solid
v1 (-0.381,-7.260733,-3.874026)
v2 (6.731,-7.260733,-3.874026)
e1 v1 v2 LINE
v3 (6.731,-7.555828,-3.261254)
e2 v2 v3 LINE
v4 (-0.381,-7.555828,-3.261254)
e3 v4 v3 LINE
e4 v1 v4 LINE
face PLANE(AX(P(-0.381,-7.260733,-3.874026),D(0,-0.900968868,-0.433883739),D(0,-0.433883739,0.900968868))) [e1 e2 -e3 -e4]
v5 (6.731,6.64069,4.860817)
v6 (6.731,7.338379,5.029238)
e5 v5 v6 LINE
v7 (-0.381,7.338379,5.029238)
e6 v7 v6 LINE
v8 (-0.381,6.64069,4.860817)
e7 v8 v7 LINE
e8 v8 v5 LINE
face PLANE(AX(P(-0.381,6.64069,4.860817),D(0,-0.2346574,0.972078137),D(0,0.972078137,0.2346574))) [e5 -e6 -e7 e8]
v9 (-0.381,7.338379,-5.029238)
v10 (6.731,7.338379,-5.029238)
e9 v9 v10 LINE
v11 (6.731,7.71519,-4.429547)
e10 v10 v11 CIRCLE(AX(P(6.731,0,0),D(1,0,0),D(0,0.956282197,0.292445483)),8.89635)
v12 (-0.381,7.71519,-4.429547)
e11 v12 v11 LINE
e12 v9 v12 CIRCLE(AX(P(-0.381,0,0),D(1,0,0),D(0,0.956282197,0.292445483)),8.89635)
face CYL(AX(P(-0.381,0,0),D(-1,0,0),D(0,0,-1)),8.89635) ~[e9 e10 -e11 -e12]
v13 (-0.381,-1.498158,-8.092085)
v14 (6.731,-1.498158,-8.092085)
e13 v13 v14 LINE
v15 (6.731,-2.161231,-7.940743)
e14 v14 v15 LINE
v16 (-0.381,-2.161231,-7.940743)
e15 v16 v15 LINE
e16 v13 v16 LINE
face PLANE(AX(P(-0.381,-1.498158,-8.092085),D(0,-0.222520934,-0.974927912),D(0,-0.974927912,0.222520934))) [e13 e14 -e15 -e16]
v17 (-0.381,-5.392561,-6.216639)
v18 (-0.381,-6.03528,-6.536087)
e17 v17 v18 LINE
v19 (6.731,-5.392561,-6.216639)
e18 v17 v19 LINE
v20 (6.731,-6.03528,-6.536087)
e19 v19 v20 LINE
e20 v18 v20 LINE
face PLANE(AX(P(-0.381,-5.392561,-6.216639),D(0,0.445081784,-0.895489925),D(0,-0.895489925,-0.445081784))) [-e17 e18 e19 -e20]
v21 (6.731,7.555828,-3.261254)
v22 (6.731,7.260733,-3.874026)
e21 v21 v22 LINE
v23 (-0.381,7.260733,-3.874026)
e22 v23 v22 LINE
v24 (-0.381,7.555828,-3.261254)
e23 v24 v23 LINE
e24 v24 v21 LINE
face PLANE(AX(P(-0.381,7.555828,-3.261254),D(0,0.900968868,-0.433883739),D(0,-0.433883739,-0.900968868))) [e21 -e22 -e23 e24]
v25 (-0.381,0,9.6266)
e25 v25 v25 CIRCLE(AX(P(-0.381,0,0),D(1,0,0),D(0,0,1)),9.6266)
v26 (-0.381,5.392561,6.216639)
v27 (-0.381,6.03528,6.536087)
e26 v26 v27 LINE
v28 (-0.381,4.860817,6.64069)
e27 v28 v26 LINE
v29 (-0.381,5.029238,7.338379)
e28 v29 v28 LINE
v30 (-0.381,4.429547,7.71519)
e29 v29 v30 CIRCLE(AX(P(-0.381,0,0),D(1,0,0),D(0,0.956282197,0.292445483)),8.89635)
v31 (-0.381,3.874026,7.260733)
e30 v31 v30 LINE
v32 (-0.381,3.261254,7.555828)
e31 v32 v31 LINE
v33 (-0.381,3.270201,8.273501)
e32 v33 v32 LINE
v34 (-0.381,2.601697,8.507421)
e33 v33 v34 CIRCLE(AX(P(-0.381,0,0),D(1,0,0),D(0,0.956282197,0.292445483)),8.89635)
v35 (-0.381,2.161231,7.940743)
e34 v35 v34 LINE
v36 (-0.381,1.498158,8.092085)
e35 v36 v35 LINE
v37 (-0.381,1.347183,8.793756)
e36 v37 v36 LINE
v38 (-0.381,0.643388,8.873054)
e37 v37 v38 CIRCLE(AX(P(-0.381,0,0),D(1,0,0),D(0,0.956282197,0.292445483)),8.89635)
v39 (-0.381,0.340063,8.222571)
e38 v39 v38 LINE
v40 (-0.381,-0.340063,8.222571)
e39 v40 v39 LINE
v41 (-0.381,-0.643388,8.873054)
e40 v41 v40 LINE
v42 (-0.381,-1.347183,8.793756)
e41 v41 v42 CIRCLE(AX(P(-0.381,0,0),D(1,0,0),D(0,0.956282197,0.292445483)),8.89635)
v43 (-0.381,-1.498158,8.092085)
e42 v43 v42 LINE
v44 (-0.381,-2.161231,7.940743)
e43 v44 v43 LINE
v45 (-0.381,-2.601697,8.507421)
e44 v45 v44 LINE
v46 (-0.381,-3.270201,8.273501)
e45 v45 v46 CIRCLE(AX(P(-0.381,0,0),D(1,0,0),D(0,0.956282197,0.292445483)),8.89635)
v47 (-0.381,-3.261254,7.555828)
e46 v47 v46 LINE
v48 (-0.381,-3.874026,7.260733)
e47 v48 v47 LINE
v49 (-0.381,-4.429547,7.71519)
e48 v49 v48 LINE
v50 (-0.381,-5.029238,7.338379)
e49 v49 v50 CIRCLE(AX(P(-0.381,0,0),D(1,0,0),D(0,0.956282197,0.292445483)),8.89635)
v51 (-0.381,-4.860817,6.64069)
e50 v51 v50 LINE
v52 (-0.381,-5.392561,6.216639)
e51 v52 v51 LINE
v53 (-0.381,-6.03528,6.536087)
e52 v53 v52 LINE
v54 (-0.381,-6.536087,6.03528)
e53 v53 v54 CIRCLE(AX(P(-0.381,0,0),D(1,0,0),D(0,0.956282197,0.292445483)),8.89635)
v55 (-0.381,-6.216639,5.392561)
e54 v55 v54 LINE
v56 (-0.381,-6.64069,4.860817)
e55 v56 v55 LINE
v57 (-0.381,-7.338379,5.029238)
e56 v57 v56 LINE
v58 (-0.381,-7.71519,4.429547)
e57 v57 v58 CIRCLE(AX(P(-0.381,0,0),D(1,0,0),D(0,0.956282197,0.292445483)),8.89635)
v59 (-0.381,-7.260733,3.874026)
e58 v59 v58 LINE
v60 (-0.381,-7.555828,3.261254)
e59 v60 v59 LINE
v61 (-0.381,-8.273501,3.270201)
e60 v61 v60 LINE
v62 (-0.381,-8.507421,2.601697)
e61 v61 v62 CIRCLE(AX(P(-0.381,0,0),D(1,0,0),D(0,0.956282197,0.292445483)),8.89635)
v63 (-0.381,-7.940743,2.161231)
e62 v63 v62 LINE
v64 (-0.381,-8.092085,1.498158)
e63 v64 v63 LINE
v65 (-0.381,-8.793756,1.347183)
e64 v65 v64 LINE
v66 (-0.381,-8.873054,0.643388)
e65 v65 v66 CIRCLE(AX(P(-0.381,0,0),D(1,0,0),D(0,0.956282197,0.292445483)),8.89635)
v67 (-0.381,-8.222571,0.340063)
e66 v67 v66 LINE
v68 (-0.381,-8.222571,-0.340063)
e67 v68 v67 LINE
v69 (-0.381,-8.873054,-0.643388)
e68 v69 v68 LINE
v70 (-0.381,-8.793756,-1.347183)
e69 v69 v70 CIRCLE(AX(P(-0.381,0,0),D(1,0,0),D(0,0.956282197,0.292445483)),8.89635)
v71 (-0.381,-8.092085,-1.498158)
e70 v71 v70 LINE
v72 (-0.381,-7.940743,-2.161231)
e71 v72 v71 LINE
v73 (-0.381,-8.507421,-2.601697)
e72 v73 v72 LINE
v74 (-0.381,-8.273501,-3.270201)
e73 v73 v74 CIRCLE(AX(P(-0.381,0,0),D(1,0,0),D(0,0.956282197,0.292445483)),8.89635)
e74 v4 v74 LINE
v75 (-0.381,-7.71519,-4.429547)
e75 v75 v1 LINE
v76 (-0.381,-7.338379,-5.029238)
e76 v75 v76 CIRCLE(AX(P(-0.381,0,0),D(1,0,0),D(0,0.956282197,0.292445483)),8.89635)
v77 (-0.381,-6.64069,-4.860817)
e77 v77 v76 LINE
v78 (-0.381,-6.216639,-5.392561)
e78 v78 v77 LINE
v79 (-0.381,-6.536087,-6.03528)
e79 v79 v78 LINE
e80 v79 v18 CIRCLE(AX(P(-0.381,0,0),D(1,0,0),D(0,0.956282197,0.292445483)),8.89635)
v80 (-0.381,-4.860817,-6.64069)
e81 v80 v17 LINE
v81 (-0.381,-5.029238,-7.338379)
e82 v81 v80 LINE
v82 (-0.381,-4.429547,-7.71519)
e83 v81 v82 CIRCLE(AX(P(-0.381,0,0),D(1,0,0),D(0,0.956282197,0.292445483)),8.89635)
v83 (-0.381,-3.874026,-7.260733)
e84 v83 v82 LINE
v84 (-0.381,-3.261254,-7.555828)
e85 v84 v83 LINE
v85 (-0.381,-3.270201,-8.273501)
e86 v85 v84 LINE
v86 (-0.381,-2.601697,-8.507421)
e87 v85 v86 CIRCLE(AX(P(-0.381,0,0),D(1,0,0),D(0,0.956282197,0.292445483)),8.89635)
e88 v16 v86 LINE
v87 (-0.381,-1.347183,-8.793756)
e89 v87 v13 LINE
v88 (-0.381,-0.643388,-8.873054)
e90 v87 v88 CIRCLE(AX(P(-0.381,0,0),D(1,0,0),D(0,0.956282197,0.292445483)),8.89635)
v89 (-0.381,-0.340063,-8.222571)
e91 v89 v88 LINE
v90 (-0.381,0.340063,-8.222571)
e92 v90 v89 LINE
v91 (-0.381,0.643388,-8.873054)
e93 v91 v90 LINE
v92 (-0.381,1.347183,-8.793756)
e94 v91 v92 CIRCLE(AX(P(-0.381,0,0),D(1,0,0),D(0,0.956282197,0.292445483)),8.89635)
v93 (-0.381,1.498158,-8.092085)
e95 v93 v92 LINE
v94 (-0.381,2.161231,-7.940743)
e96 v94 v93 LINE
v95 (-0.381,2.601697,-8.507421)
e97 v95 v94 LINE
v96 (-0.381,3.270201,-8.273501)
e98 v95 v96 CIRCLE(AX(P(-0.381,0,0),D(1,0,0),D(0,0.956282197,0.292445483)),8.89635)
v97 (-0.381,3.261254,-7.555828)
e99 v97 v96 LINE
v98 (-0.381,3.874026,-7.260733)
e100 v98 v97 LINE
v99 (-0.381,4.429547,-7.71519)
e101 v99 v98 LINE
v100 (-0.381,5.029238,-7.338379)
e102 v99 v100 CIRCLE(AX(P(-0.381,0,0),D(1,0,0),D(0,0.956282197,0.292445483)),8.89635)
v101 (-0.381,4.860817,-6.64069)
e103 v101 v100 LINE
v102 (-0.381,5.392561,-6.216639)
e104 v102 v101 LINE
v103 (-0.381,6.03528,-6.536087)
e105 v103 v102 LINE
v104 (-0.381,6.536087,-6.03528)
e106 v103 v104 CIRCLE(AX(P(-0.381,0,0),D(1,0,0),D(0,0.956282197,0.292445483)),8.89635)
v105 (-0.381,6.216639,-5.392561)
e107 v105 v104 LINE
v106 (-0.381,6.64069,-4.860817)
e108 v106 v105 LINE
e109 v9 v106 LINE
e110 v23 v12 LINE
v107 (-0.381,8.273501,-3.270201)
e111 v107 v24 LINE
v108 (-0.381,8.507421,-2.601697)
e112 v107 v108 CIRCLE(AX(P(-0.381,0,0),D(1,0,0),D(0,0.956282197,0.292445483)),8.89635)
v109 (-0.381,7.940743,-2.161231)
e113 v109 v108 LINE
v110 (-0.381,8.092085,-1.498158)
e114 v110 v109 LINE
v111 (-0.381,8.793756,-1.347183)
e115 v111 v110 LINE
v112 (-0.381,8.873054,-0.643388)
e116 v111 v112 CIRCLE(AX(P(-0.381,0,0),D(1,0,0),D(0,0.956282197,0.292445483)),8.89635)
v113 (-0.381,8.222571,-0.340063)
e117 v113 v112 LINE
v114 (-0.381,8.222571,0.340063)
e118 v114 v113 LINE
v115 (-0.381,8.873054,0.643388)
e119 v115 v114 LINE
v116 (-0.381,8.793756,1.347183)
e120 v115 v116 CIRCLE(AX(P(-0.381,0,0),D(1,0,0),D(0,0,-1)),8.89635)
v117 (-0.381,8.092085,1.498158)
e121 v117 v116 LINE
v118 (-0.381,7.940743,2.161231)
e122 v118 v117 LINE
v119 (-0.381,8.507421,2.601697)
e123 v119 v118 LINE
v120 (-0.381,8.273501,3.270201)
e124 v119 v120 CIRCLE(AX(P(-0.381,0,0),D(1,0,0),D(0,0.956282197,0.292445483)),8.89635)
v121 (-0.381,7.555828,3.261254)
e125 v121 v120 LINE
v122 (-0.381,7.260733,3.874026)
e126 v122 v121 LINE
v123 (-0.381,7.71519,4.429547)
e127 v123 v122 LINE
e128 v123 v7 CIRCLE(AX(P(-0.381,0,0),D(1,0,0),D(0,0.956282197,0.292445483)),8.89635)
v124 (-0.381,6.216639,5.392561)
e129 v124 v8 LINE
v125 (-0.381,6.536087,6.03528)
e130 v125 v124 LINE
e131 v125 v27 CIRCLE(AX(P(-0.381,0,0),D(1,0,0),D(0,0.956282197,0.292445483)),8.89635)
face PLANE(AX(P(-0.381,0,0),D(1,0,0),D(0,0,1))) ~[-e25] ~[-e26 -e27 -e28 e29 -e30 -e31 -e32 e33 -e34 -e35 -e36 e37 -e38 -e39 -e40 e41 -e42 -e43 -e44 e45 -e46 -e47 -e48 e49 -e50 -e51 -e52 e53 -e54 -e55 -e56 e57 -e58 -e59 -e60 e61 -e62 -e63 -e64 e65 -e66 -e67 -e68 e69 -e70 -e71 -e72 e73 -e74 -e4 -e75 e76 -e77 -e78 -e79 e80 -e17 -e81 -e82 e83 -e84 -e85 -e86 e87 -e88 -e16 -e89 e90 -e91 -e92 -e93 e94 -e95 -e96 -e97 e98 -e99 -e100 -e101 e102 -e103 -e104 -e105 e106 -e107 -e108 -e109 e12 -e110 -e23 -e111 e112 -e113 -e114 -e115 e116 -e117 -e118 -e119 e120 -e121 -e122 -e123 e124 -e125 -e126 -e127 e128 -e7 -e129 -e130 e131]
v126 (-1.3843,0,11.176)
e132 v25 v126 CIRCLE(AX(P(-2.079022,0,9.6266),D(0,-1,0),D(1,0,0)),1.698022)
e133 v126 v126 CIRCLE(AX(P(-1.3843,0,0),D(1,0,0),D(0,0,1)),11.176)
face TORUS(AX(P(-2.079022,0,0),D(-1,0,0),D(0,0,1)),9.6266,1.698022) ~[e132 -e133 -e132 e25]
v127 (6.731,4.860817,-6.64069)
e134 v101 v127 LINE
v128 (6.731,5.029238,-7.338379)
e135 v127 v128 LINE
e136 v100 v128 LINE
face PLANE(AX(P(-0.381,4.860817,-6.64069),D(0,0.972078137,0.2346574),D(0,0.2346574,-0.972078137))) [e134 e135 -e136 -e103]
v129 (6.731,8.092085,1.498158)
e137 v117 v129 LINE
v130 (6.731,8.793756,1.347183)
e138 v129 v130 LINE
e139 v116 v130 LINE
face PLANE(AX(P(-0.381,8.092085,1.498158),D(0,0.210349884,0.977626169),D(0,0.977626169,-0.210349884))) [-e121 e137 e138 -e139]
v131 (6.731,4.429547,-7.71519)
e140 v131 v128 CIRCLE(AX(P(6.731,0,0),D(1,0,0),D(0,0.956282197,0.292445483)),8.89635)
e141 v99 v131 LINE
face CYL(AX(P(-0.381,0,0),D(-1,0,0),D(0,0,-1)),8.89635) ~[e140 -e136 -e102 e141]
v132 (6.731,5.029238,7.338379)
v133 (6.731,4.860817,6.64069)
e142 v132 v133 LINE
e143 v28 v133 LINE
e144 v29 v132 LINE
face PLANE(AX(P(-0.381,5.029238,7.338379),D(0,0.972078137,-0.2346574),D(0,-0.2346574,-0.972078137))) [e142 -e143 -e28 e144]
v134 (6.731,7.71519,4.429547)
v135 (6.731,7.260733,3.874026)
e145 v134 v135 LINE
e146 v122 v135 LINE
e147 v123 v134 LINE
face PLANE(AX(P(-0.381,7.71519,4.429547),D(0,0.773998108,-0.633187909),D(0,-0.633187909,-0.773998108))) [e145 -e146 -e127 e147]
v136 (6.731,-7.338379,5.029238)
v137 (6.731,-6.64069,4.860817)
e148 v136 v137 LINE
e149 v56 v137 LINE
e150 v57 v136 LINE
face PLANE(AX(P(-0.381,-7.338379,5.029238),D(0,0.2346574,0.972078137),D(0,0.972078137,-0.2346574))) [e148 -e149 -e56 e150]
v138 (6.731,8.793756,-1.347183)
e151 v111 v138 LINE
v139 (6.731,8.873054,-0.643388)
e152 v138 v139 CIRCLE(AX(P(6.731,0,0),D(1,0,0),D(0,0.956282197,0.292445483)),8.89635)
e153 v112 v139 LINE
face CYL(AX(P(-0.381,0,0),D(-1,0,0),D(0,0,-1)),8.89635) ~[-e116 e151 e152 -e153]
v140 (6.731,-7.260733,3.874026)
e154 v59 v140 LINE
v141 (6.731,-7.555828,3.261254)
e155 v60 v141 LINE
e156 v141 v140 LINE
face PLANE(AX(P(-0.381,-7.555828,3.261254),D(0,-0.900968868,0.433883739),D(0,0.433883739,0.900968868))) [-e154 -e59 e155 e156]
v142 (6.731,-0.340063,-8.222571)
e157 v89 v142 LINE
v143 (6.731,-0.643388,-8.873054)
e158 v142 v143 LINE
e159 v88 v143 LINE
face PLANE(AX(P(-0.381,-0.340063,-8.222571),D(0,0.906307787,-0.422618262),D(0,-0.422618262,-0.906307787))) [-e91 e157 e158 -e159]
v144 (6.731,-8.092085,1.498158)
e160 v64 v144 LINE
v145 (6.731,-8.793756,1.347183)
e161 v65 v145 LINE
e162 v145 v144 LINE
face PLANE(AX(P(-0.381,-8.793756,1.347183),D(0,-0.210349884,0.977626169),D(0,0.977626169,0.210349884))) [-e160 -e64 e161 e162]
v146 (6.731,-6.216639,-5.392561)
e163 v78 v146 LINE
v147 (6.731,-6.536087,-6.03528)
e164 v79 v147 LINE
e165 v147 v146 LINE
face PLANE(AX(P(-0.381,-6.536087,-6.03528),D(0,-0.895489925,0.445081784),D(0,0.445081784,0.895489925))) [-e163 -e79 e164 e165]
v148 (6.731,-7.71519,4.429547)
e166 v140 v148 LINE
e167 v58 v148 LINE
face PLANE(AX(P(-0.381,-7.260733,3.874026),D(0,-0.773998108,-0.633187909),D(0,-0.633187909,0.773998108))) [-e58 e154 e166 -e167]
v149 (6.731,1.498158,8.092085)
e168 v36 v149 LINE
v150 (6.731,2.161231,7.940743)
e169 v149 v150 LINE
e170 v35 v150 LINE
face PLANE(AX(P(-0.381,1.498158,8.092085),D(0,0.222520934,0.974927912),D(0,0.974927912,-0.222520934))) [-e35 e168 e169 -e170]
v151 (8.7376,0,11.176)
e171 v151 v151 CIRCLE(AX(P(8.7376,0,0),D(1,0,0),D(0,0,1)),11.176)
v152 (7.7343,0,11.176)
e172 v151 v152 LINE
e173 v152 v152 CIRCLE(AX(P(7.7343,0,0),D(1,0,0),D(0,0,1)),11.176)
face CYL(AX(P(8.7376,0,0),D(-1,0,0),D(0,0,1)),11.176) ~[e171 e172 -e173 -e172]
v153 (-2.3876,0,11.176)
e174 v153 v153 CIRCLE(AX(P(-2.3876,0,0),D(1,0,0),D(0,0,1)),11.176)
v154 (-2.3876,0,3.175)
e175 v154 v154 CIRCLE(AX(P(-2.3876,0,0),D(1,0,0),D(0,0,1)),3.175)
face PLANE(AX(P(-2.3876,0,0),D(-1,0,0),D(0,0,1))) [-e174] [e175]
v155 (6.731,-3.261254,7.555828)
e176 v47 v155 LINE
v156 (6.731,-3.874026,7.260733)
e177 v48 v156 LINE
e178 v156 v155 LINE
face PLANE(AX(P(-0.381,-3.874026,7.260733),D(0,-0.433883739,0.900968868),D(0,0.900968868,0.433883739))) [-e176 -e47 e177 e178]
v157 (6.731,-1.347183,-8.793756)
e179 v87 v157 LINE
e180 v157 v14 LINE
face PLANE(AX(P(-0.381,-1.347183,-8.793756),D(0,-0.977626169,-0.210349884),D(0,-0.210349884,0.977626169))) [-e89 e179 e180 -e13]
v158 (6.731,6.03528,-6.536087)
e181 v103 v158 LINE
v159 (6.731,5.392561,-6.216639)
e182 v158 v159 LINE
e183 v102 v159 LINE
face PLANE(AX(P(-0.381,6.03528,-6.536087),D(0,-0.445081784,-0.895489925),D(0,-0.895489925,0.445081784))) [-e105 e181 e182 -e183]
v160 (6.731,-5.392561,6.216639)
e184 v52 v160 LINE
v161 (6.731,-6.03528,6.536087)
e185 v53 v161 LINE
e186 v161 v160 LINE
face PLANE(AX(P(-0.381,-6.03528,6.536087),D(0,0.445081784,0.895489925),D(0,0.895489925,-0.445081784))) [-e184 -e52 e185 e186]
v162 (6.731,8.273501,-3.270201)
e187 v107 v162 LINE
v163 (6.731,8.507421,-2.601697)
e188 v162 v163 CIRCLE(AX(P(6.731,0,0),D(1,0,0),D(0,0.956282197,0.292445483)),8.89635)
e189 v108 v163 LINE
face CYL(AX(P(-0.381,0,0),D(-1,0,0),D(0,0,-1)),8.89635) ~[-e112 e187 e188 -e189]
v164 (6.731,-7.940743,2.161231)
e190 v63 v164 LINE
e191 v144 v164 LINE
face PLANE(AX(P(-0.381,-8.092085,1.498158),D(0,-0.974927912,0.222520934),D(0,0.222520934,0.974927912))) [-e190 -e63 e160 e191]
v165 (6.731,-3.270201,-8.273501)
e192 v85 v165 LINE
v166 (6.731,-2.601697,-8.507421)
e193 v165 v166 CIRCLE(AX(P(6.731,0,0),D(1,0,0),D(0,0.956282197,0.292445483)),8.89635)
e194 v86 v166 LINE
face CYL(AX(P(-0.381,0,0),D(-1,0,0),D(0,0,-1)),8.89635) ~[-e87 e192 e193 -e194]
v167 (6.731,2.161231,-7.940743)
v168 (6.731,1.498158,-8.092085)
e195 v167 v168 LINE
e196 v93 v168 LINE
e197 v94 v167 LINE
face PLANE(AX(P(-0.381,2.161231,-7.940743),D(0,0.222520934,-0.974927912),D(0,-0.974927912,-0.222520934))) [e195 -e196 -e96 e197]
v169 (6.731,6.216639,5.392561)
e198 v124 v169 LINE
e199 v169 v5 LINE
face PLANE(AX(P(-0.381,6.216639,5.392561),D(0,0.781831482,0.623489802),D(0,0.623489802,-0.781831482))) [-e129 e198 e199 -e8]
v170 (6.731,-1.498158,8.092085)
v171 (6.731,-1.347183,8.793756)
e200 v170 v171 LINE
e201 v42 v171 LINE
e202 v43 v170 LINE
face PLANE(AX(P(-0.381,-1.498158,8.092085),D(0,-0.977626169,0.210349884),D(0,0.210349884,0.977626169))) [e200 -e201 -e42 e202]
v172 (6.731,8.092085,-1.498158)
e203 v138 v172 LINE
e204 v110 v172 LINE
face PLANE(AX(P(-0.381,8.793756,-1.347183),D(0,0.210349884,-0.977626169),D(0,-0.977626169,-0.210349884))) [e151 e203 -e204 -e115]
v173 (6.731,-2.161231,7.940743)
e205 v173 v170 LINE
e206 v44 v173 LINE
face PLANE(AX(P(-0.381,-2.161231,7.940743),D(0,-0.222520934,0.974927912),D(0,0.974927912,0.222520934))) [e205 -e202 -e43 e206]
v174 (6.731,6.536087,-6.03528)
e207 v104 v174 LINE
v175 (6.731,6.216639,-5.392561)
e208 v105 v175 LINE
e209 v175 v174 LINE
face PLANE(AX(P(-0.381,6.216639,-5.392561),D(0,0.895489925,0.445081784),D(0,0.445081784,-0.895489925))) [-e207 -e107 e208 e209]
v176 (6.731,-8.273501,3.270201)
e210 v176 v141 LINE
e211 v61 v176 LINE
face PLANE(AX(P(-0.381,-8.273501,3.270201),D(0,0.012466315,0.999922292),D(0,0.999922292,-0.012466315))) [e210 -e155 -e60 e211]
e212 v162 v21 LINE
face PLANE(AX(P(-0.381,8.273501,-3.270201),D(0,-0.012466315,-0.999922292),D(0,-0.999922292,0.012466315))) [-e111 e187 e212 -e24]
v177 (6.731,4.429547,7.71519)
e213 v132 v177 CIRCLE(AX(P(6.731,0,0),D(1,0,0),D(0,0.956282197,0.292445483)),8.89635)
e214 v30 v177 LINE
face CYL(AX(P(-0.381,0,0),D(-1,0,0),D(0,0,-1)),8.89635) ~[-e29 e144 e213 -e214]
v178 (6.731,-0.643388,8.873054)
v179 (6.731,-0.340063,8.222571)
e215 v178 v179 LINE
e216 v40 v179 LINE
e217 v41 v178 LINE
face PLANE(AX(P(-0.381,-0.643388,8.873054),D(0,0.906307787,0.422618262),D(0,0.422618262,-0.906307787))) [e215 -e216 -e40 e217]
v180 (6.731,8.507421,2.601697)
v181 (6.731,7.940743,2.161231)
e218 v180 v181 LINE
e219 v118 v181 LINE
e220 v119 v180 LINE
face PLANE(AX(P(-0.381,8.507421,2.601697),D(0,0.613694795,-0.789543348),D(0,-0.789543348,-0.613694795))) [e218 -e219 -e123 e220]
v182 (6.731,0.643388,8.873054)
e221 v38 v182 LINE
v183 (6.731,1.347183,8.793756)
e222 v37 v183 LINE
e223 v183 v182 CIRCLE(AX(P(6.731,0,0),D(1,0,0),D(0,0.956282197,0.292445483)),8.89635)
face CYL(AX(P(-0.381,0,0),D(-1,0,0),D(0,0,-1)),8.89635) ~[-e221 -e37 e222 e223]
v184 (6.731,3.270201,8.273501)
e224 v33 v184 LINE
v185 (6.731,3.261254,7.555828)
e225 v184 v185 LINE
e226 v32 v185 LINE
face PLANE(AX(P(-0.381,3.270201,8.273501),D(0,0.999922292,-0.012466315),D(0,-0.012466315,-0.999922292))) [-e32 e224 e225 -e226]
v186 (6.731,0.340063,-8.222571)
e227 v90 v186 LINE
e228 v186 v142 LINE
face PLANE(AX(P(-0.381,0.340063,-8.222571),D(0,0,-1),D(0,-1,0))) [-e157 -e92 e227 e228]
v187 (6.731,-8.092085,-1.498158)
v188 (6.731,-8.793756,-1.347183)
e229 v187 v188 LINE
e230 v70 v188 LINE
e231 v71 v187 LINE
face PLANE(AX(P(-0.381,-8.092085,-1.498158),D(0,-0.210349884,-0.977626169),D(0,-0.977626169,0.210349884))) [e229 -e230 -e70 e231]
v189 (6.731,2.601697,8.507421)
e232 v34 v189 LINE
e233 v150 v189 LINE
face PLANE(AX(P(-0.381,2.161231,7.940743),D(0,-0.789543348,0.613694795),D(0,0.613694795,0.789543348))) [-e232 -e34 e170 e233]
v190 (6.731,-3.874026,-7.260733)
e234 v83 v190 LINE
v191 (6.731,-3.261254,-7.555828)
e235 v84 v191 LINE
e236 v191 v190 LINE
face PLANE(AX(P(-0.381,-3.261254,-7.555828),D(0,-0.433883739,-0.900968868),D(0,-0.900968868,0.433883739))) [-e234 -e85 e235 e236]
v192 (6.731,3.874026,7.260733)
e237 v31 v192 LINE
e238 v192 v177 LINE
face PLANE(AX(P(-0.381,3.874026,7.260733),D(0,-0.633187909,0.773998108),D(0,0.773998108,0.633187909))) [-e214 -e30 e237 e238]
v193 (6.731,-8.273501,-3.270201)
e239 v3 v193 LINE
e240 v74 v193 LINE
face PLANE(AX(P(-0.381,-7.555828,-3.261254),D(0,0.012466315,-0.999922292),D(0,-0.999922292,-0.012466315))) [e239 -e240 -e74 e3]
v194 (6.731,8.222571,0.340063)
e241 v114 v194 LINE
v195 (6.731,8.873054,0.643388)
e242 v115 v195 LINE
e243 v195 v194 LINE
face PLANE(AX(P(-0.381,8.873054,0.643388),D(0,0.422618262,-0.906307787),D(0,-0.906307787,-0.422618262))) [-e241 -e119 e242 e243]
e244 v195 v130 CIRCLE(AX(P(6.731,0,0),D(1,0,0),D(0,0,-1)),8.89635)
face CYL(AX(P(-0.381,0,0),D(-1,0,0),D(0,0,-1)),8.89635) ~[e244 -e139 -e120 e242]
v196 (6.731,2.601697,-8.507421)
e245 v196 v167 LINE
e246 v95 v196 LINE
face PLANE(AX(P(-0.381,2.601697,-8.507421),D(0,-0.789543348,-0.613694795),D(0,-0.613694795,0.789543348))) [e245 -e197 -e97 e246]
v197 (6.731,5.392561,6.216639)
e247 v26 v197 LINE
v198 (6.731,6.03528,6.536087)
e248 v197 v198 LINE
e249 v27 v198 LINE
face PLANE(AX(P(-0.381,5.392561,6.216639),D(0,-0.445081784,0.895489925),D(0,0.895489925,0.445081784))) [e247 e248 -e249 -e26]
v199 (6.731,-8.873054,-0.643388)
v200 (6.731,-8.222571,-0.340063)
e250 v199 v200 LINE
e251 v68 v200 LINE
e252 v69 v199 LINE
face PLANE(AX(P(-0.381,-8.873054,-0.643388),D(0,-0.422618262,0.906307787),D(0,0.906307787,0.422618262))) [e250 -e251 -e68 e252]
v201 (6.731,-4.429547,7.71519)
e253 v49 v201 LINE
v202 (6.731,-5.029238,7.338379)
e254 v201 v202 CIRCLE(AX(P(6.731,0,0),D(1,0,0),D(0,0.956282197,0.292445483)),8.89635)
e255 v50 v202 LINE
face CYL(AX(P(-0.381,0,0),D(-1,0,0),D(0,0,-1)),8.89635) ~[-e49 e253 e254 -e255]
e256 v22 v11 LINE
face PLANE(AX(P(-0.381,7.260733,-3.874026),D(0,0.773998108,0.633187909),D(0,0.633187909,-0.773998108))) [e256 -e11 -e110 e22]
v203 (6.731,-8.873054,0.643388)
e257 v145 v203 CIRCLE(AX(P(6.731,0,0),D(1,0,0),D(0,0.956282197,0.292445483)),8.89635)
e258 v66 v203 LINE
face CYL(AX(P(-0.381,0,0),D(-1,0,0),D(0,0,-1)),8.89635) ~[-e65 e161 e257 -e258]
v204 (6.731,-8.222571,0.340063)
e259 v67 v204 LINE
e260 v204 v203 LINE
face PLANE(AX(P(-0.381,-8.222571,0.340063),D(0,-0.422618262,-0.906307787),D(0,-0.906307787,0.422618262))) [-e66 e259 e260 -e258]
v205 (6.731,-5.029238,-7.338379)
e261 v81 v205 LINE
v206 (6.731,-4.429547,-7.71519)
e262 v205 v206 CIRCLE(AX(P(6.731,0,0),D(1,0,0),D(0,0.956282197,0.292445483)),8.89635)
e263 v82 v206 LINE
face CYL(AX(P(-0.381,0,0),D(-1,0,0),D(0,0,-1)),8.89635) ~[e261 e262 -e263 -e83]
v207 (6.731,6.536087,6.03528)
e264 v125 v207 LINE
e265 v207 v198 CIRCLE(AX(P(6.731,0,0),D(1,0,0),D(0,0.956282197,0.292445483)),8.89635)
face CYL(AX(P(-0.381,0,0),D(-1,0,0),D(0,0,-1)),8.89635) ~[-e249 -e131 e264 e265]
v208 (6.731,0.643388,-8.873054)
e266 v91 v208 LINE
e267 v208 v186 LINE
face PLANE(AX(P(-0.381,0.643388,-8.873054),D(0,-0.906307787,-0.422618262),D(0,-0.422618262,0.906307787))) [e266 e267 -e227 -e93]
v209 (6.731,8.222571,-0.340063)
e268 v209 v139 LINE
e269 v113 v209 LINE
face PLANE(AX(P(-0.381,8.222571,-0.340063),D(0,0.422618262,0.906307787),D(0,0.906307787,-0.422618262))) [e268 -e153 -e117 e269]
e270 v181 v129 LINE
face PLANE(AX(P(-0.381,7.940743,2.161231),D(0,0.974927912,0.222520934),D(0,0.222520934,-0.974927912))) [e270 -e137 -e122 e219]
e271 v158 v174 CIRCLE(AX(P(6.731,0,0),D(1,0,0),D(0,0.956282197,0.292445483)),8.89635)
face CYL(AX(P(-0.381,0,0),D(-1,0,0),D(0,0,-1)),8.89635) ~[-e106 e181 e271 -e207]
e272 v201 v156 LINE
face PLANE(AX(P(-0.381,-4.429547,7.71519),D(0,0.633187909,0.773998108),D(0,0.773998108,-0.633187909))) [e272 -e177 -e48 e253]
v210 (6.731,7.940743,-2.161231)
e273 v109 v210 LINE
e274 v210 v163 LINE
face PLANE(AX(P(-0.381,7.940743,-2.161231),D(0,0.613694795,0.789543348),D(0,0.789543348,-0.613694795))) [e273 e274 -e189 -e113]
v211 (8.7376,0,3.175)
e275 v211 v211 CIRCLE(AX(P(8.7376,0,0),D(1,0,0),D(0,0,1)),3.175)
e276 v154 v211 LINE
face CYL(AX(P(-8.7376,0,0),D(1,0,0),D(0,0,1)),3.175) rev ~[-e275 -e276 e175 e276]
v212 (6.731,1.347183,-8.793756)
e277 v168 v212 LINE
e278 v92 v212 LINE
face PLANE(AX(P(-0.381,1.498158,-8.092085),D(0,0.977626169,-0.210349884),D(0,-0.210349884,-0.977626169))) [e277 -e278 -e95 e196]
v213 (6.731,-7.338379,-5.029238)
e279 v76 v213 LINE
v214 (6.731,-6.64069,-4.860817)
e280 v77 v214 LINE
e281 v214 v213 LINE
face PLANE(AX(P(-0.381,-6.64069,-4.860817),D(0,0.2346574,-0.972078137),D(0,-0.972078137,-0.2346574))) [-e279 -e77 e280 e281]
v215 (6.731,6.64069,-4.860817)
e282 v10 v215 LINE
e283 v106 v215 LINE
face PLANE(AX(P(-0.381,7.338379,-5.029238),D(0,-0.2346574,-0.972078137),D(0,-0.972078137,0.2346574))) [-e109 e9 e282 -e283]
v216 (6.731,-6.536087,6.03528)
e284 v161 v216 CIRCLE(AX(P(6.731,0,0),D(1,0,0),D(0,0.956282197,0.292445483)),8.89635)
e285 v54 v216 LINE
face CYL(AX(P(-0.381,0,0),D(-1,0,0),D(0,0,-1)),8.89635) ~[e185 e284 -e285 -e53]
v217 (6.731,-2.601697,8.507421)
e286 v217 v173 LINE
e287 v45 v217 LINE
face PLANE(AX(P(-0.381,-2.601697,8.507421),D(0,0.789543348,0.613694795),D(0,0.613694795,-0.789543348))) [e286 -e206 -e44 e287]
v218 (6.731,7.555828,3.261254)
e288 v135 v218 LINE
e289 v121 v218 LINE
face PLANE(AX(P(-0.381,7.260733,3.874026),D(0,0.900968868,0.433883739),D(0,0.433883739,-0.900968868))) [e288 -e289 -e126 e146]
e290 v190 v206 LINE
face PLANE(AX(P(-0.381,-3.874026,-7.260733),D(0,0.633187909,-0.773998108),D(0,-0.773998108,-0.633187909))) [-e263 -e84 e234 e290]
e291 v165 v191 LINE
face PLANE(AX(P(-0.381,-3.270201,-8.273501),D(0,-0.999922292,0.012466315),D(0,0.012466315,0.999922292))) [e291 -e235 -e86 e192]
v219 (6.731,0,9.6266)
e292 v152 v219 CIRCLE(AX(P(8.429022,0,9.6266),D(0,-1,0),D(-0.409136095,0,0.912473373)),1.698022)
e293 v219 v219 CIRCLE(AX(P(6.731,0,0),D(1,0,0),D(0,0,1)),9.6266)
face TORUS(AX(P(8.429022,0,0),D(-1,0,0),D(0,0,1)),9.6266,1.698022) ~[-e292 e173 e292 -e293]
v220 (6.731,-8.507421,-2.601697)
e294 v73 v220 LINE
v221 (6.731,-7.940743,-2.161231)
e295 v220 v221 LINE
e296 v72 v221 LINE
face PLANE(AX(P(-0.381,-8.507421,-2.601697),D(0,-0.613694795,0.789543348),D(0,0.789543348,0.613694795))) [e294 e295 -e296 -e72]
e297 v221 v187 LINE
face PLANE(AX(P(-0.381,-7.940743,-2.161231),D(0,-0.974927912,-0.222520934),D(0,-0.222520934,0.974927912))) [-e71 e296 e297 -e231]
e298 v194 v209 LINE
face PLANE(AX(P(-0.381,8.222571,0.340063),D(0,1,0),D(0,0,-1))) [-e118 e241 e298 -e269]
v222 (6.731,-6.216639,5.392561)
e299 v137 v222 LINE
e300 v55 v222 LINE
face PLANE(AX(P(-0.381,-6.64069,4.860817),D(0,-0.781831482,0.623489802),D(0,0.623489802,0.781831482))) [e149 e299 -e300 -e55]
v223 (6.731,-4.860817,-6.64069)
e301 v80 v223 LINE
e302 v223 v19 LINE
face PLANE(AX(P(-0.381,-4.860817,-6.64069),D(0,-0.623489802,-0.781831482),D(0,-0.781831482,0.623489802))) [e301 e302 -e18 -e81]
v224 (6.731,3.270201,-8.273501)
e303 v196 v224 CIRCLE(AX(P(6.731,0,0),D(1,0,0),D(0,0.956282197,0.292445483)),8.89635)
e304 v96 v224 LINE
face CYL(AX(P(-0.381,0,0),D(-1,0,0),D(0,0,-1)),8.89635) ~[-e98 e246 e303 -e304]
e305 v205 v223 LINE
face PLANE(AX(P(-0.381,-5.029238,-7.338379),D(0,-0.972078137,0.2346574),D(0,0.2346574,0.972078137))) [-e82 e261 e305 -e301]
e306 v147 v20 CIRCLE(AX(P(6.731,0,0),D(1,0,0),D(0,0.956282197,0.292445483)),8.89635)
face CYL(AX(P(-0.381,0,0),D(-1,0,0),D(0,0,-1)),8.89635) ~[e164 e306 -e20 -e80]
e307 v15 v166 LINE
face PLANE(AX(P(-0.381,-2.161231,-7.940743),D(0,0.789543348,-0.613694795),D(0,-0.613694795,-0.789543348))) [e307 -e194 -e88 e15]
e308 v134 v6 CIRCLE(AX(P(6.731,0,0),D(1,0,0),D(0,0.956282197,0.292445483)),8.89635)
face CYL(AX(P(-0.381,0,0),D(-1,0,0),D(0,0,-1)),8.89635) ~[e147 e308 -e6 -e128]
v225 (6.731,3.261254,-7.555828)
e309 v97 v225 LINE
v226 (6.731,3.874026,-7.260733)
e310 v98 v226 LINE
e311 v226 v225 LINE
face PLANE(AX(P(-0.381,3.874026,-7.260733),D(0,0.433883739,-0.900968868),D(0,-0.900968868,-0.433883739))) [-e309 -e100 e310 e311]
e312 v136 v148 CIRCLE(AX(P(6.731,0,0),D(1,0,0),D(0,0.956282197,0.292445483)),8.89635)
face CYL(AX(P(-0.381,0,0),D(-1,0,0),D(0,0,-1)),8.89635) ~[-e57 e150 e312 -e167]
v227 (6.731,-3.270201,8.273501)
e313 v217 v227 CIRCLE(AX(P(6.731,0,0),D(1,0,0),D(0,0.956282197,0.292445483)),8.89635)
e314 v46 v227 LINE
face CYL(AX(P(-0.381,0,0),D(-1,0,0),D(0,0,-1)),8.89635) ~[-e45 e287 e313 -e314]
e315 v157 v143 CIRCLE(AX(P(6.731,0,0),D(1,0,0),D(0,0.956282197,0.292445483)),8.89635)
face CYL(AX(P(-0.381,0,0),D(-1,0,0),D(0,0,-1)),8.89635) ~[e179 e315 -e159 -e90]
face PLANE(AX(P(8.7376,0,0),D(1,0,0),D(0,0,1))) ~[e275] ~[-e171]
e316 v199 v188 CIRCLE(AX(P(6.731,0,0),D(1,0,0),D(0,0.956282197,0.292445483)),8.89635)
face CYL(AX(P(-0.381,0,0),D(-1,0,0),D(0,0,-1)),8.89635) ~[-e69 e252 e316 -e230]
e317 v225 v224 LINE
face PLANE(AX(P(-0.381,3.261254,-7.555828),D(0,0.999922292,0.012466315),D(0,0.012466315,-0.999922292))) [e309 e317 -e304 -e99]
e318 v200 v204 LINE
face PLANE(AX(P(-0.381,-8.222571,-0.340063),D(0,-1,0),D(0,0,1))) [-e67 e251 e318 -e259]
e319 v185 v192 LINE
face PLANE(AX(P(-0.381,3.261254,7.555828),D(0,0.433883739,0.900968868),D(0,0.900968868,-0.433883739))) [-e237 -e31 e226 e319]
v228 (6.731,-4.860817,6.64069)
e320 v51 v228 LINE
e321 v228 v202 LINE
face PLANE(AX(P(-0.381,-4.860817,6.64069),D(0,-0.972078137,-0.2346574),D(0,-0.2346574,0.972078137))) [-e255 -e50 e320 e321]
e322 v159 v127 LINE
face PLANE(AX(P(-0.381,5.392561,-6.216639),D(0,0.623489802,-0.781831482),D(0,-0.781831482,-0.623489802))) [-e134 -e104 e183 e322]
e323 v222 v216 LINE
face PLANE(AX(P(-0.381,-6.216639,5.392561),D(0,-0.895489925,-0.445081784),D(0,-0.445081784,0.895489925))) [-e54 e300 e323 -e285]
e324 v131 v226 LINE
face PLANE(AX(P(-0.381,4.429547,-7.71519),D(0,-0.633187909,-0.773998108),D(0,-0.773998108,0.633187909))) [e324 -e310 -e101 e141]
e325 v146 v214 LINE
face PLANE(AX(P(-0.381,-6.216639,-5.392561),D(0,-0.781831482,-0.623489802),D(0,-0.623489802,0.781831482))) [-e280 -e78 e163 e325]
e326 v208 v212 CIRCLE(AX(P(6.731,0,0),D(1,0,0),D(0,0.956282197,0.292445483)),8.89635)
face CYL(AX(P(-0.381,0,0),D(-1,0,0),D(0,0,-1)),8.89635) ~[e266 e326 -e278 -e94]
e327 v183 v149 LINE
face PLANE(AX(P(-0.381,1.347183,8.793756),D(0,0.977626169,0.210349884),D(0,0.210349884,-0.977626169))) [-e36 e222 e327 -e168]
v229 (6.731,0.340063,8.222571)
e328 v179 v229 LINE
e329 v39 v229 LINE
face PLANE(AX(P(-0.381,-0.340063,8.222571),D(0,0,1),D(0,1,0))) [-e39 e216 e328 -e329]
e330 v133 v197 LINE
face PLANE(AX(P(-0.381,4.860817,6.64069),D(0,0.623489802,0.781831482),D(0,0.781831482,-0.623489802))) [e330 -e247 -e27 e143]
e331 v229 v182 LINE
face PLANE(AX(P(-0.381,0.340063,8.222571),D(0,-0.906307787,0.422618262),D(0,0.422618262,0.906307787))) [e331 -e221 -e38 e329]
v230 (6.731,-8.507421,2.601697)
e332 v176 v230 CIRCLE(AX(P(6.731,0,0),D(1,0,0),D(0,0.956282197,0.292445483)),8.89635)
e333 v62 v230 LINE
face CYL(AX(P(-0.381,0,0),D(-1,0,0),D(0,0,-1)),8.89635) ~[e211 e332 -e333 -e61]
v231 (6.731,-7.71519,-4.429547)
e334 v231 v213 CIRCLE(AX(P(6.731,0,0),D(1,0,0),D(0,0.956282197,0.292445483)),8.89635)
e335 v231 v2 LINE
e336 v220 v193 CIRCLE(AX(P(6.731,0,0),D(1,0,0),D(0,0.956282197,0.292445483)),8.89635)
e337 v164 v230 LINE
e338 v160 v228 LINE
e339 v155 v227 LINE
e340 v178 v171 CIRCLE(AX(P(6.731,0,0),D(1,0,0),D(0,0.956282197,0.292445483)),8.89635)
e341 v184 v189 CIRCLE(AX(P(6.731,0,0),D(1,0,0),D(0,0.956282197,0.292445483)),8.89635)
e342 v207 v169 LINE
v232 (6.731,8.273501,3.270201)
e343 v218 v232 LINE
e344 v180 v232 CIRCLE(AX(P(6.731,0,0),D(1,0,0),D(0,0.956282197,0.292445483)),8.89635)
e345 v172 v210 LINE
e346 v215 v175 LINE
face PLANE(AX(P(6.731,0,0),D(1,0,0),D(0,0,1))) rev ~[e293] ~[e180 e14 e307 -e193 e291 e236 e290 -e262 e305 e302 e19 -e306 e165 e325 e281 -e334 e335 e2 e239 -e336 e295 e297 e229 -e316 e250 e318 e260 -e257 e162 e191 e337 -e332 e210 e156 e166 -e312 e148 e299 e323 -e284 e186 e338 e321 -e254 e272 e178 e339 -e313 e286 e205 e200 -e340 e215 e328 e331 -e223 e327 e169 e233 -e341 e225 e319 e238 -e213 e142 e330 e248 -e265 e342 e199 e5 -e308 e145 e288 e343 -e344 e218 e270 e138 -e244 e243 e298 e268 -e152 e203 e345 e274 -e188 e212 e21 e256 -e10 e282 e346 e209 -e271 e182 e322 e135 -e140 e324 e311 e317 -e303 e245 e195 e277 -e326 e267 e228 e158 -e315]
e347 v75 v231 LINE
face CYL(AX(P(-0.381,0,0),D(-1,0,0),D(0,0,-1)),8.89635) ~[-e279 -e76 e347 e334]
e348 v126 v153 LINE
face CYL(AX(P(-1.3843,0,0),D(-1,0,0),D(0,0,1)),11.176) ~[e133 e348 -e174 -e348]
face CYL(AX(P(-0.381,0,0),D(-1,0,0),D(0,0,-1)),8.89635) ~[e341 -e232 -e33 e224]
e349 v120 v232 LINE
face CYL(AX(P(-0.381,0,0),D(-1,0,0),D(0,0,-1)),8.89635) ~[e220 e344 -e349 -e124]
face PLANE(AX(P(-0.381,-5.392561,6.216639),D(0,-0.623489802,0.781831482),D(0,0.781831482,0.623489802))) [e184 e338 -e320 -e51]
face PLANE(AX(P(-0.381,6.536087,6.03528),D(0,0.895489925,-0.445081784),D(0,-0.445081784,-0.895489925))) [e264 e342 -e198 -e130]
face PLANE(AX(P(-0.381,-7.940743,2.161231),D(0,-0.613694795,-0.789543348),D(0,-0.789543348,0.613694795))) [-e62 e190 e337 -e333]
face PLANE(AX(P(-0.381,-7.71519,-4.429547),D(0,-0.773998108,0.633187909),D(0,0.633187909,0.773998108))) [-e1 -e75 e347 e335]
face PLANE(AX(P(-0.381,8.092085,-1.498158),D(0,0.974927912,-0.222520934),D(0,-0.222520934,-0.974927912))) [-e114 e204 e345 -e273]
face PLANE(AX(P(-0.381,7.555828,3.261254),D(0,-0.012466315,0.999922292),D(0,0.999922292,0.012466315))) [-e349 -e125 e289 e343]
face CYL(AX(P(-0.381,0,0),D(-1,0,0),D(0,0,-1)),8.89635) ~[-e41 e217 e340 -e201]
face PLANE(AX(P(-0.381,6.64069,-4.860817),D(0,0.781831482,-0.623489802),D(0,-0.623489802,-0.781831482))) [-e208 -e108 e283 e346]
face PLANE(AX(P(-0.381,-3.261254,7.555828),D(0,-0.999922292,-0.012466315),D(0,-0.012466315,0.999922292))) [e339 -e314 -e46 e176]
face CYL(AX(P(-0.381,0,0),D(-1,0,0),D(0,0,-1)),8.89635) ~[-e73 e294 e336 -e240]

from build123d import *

# Parameters (mm, degrees)
SKETCH4_R          = 9.0551
SKETCH4_R_2        = 8.89635
CUT_EXTRUDE2_DEPTH = 7.112
CUT_EXTRUDE1_DEPTH = 7.112
CIRPATTERN1_COUNT  = 28
SKETCH6_R          = 8.7376
CUT_EXTRUDE3_DEPTH = 6.35


with BuildPart() as part:
    # Sketch1 → Revolve1 (revolve)
    with BuildSketch(Plane.XY, mode=Mode.PRIVATE) as revolve1_sk:
        with BuildLine():
            Line((-8.7376, 3.175), (8.7376, 3.175))
            Line((8.7376, 3.175), (8.7376, 11.176))
            Line((8.7376, 11.176), (7.7343, 11.176))
            ThreePointArc((7.7343, 11.176), (7.003726949, 10.549537058), (6.731, 9.6266))
            Line((6.731, 9.6266), (6.731, 9.0551))
            Line((6.731, 9.0551), (-0.381, 9.0551))
            Line((-0.381, 9.0551), (-0.381, 9.6266))
            ThreePointArc((-0.381, 9.6266), (-0.653726949, 10.549537058), (-1.3843, 11.176))
            Line((-1.3843, 11.176), (-2.3876, 11.176))
            Line((-2.3876, 11.176), (-2.3876, 8.7376))
            Line((-2.3876, 8.7376), (-8.7376, 8.7376))
            Line((-8.7376, 8.7376), (-8.7376, 3.175))
        make_face()
    revolve(revolve1_sk.sketch.rotate(Axis((-8.7376, 0, 0), (1, 0, 0)), 90), axis=Axis((-8.7376, 0, 0), (1, 0, 0)))

    # Sketch4 → Cut-Extrude2 (cut)
    with BuildSketch(Plane(origin=(-0.381, 0, 0), x_dir=(0, 0, -1), z_dir=(1, 0, 0))):
        Circle(SKETCH4_R)
        Circle(SKETCH4_R_2, mode=Mode.SUBTRACT)
    extrude(amount=CUT_EXTRUDE2_DEPTH, mode=Mode.SUBTRACT)

    # Sketch3 → Cut-Extrude1 (cut)
    with BuildSketch(Plane(origin=(-0.381, 0, 0), x_dir=(0, 0, -1), z_dir=(1, 0, 0))):
        with BuildLine():
            Line((-0.643388094, 8.873054439), (-0.340062676, 8.222570981))
            Line((-0.340062676, 8.222570981), (0.340062676, 8.222570981))
            Line((0.340062676, 8.222570981), (0.643388094, 8.873054439))
            ThreePointArc((0.643388094, 8.873054439), (0, 8.89635), (-0.643388094, 8.873054439))
        make_face()
    cut_extrude1 = extrude(amount=CUT_EXTRUDE1_DEPTH, mode=Mode.SUBTRACT)

    # CirPattern1: Cut-Extrude1 ×28 about axis
    cirpattern1_axis = Axis((0, 0, 0), (1, 0, 0))
    for i in range(1, CIRPATTERN1_COUNT):
        add(cut_extrude1.rotate(cirpattern1_axis, i * 360 / CIRPATTERN1_COUNT), mode=Mode.SUBTRACT)

    # Sketch6 → Cut-Extrude3 (cut)
    with BuildSketch(Plane.ZY.offset(8.7376)):
        Circle(SKETCH6_R)
    extrude(amount=-CUT_EXTRUDE3_DEPTH, mode=Mode.SUBTRACT)


solid = part.part
